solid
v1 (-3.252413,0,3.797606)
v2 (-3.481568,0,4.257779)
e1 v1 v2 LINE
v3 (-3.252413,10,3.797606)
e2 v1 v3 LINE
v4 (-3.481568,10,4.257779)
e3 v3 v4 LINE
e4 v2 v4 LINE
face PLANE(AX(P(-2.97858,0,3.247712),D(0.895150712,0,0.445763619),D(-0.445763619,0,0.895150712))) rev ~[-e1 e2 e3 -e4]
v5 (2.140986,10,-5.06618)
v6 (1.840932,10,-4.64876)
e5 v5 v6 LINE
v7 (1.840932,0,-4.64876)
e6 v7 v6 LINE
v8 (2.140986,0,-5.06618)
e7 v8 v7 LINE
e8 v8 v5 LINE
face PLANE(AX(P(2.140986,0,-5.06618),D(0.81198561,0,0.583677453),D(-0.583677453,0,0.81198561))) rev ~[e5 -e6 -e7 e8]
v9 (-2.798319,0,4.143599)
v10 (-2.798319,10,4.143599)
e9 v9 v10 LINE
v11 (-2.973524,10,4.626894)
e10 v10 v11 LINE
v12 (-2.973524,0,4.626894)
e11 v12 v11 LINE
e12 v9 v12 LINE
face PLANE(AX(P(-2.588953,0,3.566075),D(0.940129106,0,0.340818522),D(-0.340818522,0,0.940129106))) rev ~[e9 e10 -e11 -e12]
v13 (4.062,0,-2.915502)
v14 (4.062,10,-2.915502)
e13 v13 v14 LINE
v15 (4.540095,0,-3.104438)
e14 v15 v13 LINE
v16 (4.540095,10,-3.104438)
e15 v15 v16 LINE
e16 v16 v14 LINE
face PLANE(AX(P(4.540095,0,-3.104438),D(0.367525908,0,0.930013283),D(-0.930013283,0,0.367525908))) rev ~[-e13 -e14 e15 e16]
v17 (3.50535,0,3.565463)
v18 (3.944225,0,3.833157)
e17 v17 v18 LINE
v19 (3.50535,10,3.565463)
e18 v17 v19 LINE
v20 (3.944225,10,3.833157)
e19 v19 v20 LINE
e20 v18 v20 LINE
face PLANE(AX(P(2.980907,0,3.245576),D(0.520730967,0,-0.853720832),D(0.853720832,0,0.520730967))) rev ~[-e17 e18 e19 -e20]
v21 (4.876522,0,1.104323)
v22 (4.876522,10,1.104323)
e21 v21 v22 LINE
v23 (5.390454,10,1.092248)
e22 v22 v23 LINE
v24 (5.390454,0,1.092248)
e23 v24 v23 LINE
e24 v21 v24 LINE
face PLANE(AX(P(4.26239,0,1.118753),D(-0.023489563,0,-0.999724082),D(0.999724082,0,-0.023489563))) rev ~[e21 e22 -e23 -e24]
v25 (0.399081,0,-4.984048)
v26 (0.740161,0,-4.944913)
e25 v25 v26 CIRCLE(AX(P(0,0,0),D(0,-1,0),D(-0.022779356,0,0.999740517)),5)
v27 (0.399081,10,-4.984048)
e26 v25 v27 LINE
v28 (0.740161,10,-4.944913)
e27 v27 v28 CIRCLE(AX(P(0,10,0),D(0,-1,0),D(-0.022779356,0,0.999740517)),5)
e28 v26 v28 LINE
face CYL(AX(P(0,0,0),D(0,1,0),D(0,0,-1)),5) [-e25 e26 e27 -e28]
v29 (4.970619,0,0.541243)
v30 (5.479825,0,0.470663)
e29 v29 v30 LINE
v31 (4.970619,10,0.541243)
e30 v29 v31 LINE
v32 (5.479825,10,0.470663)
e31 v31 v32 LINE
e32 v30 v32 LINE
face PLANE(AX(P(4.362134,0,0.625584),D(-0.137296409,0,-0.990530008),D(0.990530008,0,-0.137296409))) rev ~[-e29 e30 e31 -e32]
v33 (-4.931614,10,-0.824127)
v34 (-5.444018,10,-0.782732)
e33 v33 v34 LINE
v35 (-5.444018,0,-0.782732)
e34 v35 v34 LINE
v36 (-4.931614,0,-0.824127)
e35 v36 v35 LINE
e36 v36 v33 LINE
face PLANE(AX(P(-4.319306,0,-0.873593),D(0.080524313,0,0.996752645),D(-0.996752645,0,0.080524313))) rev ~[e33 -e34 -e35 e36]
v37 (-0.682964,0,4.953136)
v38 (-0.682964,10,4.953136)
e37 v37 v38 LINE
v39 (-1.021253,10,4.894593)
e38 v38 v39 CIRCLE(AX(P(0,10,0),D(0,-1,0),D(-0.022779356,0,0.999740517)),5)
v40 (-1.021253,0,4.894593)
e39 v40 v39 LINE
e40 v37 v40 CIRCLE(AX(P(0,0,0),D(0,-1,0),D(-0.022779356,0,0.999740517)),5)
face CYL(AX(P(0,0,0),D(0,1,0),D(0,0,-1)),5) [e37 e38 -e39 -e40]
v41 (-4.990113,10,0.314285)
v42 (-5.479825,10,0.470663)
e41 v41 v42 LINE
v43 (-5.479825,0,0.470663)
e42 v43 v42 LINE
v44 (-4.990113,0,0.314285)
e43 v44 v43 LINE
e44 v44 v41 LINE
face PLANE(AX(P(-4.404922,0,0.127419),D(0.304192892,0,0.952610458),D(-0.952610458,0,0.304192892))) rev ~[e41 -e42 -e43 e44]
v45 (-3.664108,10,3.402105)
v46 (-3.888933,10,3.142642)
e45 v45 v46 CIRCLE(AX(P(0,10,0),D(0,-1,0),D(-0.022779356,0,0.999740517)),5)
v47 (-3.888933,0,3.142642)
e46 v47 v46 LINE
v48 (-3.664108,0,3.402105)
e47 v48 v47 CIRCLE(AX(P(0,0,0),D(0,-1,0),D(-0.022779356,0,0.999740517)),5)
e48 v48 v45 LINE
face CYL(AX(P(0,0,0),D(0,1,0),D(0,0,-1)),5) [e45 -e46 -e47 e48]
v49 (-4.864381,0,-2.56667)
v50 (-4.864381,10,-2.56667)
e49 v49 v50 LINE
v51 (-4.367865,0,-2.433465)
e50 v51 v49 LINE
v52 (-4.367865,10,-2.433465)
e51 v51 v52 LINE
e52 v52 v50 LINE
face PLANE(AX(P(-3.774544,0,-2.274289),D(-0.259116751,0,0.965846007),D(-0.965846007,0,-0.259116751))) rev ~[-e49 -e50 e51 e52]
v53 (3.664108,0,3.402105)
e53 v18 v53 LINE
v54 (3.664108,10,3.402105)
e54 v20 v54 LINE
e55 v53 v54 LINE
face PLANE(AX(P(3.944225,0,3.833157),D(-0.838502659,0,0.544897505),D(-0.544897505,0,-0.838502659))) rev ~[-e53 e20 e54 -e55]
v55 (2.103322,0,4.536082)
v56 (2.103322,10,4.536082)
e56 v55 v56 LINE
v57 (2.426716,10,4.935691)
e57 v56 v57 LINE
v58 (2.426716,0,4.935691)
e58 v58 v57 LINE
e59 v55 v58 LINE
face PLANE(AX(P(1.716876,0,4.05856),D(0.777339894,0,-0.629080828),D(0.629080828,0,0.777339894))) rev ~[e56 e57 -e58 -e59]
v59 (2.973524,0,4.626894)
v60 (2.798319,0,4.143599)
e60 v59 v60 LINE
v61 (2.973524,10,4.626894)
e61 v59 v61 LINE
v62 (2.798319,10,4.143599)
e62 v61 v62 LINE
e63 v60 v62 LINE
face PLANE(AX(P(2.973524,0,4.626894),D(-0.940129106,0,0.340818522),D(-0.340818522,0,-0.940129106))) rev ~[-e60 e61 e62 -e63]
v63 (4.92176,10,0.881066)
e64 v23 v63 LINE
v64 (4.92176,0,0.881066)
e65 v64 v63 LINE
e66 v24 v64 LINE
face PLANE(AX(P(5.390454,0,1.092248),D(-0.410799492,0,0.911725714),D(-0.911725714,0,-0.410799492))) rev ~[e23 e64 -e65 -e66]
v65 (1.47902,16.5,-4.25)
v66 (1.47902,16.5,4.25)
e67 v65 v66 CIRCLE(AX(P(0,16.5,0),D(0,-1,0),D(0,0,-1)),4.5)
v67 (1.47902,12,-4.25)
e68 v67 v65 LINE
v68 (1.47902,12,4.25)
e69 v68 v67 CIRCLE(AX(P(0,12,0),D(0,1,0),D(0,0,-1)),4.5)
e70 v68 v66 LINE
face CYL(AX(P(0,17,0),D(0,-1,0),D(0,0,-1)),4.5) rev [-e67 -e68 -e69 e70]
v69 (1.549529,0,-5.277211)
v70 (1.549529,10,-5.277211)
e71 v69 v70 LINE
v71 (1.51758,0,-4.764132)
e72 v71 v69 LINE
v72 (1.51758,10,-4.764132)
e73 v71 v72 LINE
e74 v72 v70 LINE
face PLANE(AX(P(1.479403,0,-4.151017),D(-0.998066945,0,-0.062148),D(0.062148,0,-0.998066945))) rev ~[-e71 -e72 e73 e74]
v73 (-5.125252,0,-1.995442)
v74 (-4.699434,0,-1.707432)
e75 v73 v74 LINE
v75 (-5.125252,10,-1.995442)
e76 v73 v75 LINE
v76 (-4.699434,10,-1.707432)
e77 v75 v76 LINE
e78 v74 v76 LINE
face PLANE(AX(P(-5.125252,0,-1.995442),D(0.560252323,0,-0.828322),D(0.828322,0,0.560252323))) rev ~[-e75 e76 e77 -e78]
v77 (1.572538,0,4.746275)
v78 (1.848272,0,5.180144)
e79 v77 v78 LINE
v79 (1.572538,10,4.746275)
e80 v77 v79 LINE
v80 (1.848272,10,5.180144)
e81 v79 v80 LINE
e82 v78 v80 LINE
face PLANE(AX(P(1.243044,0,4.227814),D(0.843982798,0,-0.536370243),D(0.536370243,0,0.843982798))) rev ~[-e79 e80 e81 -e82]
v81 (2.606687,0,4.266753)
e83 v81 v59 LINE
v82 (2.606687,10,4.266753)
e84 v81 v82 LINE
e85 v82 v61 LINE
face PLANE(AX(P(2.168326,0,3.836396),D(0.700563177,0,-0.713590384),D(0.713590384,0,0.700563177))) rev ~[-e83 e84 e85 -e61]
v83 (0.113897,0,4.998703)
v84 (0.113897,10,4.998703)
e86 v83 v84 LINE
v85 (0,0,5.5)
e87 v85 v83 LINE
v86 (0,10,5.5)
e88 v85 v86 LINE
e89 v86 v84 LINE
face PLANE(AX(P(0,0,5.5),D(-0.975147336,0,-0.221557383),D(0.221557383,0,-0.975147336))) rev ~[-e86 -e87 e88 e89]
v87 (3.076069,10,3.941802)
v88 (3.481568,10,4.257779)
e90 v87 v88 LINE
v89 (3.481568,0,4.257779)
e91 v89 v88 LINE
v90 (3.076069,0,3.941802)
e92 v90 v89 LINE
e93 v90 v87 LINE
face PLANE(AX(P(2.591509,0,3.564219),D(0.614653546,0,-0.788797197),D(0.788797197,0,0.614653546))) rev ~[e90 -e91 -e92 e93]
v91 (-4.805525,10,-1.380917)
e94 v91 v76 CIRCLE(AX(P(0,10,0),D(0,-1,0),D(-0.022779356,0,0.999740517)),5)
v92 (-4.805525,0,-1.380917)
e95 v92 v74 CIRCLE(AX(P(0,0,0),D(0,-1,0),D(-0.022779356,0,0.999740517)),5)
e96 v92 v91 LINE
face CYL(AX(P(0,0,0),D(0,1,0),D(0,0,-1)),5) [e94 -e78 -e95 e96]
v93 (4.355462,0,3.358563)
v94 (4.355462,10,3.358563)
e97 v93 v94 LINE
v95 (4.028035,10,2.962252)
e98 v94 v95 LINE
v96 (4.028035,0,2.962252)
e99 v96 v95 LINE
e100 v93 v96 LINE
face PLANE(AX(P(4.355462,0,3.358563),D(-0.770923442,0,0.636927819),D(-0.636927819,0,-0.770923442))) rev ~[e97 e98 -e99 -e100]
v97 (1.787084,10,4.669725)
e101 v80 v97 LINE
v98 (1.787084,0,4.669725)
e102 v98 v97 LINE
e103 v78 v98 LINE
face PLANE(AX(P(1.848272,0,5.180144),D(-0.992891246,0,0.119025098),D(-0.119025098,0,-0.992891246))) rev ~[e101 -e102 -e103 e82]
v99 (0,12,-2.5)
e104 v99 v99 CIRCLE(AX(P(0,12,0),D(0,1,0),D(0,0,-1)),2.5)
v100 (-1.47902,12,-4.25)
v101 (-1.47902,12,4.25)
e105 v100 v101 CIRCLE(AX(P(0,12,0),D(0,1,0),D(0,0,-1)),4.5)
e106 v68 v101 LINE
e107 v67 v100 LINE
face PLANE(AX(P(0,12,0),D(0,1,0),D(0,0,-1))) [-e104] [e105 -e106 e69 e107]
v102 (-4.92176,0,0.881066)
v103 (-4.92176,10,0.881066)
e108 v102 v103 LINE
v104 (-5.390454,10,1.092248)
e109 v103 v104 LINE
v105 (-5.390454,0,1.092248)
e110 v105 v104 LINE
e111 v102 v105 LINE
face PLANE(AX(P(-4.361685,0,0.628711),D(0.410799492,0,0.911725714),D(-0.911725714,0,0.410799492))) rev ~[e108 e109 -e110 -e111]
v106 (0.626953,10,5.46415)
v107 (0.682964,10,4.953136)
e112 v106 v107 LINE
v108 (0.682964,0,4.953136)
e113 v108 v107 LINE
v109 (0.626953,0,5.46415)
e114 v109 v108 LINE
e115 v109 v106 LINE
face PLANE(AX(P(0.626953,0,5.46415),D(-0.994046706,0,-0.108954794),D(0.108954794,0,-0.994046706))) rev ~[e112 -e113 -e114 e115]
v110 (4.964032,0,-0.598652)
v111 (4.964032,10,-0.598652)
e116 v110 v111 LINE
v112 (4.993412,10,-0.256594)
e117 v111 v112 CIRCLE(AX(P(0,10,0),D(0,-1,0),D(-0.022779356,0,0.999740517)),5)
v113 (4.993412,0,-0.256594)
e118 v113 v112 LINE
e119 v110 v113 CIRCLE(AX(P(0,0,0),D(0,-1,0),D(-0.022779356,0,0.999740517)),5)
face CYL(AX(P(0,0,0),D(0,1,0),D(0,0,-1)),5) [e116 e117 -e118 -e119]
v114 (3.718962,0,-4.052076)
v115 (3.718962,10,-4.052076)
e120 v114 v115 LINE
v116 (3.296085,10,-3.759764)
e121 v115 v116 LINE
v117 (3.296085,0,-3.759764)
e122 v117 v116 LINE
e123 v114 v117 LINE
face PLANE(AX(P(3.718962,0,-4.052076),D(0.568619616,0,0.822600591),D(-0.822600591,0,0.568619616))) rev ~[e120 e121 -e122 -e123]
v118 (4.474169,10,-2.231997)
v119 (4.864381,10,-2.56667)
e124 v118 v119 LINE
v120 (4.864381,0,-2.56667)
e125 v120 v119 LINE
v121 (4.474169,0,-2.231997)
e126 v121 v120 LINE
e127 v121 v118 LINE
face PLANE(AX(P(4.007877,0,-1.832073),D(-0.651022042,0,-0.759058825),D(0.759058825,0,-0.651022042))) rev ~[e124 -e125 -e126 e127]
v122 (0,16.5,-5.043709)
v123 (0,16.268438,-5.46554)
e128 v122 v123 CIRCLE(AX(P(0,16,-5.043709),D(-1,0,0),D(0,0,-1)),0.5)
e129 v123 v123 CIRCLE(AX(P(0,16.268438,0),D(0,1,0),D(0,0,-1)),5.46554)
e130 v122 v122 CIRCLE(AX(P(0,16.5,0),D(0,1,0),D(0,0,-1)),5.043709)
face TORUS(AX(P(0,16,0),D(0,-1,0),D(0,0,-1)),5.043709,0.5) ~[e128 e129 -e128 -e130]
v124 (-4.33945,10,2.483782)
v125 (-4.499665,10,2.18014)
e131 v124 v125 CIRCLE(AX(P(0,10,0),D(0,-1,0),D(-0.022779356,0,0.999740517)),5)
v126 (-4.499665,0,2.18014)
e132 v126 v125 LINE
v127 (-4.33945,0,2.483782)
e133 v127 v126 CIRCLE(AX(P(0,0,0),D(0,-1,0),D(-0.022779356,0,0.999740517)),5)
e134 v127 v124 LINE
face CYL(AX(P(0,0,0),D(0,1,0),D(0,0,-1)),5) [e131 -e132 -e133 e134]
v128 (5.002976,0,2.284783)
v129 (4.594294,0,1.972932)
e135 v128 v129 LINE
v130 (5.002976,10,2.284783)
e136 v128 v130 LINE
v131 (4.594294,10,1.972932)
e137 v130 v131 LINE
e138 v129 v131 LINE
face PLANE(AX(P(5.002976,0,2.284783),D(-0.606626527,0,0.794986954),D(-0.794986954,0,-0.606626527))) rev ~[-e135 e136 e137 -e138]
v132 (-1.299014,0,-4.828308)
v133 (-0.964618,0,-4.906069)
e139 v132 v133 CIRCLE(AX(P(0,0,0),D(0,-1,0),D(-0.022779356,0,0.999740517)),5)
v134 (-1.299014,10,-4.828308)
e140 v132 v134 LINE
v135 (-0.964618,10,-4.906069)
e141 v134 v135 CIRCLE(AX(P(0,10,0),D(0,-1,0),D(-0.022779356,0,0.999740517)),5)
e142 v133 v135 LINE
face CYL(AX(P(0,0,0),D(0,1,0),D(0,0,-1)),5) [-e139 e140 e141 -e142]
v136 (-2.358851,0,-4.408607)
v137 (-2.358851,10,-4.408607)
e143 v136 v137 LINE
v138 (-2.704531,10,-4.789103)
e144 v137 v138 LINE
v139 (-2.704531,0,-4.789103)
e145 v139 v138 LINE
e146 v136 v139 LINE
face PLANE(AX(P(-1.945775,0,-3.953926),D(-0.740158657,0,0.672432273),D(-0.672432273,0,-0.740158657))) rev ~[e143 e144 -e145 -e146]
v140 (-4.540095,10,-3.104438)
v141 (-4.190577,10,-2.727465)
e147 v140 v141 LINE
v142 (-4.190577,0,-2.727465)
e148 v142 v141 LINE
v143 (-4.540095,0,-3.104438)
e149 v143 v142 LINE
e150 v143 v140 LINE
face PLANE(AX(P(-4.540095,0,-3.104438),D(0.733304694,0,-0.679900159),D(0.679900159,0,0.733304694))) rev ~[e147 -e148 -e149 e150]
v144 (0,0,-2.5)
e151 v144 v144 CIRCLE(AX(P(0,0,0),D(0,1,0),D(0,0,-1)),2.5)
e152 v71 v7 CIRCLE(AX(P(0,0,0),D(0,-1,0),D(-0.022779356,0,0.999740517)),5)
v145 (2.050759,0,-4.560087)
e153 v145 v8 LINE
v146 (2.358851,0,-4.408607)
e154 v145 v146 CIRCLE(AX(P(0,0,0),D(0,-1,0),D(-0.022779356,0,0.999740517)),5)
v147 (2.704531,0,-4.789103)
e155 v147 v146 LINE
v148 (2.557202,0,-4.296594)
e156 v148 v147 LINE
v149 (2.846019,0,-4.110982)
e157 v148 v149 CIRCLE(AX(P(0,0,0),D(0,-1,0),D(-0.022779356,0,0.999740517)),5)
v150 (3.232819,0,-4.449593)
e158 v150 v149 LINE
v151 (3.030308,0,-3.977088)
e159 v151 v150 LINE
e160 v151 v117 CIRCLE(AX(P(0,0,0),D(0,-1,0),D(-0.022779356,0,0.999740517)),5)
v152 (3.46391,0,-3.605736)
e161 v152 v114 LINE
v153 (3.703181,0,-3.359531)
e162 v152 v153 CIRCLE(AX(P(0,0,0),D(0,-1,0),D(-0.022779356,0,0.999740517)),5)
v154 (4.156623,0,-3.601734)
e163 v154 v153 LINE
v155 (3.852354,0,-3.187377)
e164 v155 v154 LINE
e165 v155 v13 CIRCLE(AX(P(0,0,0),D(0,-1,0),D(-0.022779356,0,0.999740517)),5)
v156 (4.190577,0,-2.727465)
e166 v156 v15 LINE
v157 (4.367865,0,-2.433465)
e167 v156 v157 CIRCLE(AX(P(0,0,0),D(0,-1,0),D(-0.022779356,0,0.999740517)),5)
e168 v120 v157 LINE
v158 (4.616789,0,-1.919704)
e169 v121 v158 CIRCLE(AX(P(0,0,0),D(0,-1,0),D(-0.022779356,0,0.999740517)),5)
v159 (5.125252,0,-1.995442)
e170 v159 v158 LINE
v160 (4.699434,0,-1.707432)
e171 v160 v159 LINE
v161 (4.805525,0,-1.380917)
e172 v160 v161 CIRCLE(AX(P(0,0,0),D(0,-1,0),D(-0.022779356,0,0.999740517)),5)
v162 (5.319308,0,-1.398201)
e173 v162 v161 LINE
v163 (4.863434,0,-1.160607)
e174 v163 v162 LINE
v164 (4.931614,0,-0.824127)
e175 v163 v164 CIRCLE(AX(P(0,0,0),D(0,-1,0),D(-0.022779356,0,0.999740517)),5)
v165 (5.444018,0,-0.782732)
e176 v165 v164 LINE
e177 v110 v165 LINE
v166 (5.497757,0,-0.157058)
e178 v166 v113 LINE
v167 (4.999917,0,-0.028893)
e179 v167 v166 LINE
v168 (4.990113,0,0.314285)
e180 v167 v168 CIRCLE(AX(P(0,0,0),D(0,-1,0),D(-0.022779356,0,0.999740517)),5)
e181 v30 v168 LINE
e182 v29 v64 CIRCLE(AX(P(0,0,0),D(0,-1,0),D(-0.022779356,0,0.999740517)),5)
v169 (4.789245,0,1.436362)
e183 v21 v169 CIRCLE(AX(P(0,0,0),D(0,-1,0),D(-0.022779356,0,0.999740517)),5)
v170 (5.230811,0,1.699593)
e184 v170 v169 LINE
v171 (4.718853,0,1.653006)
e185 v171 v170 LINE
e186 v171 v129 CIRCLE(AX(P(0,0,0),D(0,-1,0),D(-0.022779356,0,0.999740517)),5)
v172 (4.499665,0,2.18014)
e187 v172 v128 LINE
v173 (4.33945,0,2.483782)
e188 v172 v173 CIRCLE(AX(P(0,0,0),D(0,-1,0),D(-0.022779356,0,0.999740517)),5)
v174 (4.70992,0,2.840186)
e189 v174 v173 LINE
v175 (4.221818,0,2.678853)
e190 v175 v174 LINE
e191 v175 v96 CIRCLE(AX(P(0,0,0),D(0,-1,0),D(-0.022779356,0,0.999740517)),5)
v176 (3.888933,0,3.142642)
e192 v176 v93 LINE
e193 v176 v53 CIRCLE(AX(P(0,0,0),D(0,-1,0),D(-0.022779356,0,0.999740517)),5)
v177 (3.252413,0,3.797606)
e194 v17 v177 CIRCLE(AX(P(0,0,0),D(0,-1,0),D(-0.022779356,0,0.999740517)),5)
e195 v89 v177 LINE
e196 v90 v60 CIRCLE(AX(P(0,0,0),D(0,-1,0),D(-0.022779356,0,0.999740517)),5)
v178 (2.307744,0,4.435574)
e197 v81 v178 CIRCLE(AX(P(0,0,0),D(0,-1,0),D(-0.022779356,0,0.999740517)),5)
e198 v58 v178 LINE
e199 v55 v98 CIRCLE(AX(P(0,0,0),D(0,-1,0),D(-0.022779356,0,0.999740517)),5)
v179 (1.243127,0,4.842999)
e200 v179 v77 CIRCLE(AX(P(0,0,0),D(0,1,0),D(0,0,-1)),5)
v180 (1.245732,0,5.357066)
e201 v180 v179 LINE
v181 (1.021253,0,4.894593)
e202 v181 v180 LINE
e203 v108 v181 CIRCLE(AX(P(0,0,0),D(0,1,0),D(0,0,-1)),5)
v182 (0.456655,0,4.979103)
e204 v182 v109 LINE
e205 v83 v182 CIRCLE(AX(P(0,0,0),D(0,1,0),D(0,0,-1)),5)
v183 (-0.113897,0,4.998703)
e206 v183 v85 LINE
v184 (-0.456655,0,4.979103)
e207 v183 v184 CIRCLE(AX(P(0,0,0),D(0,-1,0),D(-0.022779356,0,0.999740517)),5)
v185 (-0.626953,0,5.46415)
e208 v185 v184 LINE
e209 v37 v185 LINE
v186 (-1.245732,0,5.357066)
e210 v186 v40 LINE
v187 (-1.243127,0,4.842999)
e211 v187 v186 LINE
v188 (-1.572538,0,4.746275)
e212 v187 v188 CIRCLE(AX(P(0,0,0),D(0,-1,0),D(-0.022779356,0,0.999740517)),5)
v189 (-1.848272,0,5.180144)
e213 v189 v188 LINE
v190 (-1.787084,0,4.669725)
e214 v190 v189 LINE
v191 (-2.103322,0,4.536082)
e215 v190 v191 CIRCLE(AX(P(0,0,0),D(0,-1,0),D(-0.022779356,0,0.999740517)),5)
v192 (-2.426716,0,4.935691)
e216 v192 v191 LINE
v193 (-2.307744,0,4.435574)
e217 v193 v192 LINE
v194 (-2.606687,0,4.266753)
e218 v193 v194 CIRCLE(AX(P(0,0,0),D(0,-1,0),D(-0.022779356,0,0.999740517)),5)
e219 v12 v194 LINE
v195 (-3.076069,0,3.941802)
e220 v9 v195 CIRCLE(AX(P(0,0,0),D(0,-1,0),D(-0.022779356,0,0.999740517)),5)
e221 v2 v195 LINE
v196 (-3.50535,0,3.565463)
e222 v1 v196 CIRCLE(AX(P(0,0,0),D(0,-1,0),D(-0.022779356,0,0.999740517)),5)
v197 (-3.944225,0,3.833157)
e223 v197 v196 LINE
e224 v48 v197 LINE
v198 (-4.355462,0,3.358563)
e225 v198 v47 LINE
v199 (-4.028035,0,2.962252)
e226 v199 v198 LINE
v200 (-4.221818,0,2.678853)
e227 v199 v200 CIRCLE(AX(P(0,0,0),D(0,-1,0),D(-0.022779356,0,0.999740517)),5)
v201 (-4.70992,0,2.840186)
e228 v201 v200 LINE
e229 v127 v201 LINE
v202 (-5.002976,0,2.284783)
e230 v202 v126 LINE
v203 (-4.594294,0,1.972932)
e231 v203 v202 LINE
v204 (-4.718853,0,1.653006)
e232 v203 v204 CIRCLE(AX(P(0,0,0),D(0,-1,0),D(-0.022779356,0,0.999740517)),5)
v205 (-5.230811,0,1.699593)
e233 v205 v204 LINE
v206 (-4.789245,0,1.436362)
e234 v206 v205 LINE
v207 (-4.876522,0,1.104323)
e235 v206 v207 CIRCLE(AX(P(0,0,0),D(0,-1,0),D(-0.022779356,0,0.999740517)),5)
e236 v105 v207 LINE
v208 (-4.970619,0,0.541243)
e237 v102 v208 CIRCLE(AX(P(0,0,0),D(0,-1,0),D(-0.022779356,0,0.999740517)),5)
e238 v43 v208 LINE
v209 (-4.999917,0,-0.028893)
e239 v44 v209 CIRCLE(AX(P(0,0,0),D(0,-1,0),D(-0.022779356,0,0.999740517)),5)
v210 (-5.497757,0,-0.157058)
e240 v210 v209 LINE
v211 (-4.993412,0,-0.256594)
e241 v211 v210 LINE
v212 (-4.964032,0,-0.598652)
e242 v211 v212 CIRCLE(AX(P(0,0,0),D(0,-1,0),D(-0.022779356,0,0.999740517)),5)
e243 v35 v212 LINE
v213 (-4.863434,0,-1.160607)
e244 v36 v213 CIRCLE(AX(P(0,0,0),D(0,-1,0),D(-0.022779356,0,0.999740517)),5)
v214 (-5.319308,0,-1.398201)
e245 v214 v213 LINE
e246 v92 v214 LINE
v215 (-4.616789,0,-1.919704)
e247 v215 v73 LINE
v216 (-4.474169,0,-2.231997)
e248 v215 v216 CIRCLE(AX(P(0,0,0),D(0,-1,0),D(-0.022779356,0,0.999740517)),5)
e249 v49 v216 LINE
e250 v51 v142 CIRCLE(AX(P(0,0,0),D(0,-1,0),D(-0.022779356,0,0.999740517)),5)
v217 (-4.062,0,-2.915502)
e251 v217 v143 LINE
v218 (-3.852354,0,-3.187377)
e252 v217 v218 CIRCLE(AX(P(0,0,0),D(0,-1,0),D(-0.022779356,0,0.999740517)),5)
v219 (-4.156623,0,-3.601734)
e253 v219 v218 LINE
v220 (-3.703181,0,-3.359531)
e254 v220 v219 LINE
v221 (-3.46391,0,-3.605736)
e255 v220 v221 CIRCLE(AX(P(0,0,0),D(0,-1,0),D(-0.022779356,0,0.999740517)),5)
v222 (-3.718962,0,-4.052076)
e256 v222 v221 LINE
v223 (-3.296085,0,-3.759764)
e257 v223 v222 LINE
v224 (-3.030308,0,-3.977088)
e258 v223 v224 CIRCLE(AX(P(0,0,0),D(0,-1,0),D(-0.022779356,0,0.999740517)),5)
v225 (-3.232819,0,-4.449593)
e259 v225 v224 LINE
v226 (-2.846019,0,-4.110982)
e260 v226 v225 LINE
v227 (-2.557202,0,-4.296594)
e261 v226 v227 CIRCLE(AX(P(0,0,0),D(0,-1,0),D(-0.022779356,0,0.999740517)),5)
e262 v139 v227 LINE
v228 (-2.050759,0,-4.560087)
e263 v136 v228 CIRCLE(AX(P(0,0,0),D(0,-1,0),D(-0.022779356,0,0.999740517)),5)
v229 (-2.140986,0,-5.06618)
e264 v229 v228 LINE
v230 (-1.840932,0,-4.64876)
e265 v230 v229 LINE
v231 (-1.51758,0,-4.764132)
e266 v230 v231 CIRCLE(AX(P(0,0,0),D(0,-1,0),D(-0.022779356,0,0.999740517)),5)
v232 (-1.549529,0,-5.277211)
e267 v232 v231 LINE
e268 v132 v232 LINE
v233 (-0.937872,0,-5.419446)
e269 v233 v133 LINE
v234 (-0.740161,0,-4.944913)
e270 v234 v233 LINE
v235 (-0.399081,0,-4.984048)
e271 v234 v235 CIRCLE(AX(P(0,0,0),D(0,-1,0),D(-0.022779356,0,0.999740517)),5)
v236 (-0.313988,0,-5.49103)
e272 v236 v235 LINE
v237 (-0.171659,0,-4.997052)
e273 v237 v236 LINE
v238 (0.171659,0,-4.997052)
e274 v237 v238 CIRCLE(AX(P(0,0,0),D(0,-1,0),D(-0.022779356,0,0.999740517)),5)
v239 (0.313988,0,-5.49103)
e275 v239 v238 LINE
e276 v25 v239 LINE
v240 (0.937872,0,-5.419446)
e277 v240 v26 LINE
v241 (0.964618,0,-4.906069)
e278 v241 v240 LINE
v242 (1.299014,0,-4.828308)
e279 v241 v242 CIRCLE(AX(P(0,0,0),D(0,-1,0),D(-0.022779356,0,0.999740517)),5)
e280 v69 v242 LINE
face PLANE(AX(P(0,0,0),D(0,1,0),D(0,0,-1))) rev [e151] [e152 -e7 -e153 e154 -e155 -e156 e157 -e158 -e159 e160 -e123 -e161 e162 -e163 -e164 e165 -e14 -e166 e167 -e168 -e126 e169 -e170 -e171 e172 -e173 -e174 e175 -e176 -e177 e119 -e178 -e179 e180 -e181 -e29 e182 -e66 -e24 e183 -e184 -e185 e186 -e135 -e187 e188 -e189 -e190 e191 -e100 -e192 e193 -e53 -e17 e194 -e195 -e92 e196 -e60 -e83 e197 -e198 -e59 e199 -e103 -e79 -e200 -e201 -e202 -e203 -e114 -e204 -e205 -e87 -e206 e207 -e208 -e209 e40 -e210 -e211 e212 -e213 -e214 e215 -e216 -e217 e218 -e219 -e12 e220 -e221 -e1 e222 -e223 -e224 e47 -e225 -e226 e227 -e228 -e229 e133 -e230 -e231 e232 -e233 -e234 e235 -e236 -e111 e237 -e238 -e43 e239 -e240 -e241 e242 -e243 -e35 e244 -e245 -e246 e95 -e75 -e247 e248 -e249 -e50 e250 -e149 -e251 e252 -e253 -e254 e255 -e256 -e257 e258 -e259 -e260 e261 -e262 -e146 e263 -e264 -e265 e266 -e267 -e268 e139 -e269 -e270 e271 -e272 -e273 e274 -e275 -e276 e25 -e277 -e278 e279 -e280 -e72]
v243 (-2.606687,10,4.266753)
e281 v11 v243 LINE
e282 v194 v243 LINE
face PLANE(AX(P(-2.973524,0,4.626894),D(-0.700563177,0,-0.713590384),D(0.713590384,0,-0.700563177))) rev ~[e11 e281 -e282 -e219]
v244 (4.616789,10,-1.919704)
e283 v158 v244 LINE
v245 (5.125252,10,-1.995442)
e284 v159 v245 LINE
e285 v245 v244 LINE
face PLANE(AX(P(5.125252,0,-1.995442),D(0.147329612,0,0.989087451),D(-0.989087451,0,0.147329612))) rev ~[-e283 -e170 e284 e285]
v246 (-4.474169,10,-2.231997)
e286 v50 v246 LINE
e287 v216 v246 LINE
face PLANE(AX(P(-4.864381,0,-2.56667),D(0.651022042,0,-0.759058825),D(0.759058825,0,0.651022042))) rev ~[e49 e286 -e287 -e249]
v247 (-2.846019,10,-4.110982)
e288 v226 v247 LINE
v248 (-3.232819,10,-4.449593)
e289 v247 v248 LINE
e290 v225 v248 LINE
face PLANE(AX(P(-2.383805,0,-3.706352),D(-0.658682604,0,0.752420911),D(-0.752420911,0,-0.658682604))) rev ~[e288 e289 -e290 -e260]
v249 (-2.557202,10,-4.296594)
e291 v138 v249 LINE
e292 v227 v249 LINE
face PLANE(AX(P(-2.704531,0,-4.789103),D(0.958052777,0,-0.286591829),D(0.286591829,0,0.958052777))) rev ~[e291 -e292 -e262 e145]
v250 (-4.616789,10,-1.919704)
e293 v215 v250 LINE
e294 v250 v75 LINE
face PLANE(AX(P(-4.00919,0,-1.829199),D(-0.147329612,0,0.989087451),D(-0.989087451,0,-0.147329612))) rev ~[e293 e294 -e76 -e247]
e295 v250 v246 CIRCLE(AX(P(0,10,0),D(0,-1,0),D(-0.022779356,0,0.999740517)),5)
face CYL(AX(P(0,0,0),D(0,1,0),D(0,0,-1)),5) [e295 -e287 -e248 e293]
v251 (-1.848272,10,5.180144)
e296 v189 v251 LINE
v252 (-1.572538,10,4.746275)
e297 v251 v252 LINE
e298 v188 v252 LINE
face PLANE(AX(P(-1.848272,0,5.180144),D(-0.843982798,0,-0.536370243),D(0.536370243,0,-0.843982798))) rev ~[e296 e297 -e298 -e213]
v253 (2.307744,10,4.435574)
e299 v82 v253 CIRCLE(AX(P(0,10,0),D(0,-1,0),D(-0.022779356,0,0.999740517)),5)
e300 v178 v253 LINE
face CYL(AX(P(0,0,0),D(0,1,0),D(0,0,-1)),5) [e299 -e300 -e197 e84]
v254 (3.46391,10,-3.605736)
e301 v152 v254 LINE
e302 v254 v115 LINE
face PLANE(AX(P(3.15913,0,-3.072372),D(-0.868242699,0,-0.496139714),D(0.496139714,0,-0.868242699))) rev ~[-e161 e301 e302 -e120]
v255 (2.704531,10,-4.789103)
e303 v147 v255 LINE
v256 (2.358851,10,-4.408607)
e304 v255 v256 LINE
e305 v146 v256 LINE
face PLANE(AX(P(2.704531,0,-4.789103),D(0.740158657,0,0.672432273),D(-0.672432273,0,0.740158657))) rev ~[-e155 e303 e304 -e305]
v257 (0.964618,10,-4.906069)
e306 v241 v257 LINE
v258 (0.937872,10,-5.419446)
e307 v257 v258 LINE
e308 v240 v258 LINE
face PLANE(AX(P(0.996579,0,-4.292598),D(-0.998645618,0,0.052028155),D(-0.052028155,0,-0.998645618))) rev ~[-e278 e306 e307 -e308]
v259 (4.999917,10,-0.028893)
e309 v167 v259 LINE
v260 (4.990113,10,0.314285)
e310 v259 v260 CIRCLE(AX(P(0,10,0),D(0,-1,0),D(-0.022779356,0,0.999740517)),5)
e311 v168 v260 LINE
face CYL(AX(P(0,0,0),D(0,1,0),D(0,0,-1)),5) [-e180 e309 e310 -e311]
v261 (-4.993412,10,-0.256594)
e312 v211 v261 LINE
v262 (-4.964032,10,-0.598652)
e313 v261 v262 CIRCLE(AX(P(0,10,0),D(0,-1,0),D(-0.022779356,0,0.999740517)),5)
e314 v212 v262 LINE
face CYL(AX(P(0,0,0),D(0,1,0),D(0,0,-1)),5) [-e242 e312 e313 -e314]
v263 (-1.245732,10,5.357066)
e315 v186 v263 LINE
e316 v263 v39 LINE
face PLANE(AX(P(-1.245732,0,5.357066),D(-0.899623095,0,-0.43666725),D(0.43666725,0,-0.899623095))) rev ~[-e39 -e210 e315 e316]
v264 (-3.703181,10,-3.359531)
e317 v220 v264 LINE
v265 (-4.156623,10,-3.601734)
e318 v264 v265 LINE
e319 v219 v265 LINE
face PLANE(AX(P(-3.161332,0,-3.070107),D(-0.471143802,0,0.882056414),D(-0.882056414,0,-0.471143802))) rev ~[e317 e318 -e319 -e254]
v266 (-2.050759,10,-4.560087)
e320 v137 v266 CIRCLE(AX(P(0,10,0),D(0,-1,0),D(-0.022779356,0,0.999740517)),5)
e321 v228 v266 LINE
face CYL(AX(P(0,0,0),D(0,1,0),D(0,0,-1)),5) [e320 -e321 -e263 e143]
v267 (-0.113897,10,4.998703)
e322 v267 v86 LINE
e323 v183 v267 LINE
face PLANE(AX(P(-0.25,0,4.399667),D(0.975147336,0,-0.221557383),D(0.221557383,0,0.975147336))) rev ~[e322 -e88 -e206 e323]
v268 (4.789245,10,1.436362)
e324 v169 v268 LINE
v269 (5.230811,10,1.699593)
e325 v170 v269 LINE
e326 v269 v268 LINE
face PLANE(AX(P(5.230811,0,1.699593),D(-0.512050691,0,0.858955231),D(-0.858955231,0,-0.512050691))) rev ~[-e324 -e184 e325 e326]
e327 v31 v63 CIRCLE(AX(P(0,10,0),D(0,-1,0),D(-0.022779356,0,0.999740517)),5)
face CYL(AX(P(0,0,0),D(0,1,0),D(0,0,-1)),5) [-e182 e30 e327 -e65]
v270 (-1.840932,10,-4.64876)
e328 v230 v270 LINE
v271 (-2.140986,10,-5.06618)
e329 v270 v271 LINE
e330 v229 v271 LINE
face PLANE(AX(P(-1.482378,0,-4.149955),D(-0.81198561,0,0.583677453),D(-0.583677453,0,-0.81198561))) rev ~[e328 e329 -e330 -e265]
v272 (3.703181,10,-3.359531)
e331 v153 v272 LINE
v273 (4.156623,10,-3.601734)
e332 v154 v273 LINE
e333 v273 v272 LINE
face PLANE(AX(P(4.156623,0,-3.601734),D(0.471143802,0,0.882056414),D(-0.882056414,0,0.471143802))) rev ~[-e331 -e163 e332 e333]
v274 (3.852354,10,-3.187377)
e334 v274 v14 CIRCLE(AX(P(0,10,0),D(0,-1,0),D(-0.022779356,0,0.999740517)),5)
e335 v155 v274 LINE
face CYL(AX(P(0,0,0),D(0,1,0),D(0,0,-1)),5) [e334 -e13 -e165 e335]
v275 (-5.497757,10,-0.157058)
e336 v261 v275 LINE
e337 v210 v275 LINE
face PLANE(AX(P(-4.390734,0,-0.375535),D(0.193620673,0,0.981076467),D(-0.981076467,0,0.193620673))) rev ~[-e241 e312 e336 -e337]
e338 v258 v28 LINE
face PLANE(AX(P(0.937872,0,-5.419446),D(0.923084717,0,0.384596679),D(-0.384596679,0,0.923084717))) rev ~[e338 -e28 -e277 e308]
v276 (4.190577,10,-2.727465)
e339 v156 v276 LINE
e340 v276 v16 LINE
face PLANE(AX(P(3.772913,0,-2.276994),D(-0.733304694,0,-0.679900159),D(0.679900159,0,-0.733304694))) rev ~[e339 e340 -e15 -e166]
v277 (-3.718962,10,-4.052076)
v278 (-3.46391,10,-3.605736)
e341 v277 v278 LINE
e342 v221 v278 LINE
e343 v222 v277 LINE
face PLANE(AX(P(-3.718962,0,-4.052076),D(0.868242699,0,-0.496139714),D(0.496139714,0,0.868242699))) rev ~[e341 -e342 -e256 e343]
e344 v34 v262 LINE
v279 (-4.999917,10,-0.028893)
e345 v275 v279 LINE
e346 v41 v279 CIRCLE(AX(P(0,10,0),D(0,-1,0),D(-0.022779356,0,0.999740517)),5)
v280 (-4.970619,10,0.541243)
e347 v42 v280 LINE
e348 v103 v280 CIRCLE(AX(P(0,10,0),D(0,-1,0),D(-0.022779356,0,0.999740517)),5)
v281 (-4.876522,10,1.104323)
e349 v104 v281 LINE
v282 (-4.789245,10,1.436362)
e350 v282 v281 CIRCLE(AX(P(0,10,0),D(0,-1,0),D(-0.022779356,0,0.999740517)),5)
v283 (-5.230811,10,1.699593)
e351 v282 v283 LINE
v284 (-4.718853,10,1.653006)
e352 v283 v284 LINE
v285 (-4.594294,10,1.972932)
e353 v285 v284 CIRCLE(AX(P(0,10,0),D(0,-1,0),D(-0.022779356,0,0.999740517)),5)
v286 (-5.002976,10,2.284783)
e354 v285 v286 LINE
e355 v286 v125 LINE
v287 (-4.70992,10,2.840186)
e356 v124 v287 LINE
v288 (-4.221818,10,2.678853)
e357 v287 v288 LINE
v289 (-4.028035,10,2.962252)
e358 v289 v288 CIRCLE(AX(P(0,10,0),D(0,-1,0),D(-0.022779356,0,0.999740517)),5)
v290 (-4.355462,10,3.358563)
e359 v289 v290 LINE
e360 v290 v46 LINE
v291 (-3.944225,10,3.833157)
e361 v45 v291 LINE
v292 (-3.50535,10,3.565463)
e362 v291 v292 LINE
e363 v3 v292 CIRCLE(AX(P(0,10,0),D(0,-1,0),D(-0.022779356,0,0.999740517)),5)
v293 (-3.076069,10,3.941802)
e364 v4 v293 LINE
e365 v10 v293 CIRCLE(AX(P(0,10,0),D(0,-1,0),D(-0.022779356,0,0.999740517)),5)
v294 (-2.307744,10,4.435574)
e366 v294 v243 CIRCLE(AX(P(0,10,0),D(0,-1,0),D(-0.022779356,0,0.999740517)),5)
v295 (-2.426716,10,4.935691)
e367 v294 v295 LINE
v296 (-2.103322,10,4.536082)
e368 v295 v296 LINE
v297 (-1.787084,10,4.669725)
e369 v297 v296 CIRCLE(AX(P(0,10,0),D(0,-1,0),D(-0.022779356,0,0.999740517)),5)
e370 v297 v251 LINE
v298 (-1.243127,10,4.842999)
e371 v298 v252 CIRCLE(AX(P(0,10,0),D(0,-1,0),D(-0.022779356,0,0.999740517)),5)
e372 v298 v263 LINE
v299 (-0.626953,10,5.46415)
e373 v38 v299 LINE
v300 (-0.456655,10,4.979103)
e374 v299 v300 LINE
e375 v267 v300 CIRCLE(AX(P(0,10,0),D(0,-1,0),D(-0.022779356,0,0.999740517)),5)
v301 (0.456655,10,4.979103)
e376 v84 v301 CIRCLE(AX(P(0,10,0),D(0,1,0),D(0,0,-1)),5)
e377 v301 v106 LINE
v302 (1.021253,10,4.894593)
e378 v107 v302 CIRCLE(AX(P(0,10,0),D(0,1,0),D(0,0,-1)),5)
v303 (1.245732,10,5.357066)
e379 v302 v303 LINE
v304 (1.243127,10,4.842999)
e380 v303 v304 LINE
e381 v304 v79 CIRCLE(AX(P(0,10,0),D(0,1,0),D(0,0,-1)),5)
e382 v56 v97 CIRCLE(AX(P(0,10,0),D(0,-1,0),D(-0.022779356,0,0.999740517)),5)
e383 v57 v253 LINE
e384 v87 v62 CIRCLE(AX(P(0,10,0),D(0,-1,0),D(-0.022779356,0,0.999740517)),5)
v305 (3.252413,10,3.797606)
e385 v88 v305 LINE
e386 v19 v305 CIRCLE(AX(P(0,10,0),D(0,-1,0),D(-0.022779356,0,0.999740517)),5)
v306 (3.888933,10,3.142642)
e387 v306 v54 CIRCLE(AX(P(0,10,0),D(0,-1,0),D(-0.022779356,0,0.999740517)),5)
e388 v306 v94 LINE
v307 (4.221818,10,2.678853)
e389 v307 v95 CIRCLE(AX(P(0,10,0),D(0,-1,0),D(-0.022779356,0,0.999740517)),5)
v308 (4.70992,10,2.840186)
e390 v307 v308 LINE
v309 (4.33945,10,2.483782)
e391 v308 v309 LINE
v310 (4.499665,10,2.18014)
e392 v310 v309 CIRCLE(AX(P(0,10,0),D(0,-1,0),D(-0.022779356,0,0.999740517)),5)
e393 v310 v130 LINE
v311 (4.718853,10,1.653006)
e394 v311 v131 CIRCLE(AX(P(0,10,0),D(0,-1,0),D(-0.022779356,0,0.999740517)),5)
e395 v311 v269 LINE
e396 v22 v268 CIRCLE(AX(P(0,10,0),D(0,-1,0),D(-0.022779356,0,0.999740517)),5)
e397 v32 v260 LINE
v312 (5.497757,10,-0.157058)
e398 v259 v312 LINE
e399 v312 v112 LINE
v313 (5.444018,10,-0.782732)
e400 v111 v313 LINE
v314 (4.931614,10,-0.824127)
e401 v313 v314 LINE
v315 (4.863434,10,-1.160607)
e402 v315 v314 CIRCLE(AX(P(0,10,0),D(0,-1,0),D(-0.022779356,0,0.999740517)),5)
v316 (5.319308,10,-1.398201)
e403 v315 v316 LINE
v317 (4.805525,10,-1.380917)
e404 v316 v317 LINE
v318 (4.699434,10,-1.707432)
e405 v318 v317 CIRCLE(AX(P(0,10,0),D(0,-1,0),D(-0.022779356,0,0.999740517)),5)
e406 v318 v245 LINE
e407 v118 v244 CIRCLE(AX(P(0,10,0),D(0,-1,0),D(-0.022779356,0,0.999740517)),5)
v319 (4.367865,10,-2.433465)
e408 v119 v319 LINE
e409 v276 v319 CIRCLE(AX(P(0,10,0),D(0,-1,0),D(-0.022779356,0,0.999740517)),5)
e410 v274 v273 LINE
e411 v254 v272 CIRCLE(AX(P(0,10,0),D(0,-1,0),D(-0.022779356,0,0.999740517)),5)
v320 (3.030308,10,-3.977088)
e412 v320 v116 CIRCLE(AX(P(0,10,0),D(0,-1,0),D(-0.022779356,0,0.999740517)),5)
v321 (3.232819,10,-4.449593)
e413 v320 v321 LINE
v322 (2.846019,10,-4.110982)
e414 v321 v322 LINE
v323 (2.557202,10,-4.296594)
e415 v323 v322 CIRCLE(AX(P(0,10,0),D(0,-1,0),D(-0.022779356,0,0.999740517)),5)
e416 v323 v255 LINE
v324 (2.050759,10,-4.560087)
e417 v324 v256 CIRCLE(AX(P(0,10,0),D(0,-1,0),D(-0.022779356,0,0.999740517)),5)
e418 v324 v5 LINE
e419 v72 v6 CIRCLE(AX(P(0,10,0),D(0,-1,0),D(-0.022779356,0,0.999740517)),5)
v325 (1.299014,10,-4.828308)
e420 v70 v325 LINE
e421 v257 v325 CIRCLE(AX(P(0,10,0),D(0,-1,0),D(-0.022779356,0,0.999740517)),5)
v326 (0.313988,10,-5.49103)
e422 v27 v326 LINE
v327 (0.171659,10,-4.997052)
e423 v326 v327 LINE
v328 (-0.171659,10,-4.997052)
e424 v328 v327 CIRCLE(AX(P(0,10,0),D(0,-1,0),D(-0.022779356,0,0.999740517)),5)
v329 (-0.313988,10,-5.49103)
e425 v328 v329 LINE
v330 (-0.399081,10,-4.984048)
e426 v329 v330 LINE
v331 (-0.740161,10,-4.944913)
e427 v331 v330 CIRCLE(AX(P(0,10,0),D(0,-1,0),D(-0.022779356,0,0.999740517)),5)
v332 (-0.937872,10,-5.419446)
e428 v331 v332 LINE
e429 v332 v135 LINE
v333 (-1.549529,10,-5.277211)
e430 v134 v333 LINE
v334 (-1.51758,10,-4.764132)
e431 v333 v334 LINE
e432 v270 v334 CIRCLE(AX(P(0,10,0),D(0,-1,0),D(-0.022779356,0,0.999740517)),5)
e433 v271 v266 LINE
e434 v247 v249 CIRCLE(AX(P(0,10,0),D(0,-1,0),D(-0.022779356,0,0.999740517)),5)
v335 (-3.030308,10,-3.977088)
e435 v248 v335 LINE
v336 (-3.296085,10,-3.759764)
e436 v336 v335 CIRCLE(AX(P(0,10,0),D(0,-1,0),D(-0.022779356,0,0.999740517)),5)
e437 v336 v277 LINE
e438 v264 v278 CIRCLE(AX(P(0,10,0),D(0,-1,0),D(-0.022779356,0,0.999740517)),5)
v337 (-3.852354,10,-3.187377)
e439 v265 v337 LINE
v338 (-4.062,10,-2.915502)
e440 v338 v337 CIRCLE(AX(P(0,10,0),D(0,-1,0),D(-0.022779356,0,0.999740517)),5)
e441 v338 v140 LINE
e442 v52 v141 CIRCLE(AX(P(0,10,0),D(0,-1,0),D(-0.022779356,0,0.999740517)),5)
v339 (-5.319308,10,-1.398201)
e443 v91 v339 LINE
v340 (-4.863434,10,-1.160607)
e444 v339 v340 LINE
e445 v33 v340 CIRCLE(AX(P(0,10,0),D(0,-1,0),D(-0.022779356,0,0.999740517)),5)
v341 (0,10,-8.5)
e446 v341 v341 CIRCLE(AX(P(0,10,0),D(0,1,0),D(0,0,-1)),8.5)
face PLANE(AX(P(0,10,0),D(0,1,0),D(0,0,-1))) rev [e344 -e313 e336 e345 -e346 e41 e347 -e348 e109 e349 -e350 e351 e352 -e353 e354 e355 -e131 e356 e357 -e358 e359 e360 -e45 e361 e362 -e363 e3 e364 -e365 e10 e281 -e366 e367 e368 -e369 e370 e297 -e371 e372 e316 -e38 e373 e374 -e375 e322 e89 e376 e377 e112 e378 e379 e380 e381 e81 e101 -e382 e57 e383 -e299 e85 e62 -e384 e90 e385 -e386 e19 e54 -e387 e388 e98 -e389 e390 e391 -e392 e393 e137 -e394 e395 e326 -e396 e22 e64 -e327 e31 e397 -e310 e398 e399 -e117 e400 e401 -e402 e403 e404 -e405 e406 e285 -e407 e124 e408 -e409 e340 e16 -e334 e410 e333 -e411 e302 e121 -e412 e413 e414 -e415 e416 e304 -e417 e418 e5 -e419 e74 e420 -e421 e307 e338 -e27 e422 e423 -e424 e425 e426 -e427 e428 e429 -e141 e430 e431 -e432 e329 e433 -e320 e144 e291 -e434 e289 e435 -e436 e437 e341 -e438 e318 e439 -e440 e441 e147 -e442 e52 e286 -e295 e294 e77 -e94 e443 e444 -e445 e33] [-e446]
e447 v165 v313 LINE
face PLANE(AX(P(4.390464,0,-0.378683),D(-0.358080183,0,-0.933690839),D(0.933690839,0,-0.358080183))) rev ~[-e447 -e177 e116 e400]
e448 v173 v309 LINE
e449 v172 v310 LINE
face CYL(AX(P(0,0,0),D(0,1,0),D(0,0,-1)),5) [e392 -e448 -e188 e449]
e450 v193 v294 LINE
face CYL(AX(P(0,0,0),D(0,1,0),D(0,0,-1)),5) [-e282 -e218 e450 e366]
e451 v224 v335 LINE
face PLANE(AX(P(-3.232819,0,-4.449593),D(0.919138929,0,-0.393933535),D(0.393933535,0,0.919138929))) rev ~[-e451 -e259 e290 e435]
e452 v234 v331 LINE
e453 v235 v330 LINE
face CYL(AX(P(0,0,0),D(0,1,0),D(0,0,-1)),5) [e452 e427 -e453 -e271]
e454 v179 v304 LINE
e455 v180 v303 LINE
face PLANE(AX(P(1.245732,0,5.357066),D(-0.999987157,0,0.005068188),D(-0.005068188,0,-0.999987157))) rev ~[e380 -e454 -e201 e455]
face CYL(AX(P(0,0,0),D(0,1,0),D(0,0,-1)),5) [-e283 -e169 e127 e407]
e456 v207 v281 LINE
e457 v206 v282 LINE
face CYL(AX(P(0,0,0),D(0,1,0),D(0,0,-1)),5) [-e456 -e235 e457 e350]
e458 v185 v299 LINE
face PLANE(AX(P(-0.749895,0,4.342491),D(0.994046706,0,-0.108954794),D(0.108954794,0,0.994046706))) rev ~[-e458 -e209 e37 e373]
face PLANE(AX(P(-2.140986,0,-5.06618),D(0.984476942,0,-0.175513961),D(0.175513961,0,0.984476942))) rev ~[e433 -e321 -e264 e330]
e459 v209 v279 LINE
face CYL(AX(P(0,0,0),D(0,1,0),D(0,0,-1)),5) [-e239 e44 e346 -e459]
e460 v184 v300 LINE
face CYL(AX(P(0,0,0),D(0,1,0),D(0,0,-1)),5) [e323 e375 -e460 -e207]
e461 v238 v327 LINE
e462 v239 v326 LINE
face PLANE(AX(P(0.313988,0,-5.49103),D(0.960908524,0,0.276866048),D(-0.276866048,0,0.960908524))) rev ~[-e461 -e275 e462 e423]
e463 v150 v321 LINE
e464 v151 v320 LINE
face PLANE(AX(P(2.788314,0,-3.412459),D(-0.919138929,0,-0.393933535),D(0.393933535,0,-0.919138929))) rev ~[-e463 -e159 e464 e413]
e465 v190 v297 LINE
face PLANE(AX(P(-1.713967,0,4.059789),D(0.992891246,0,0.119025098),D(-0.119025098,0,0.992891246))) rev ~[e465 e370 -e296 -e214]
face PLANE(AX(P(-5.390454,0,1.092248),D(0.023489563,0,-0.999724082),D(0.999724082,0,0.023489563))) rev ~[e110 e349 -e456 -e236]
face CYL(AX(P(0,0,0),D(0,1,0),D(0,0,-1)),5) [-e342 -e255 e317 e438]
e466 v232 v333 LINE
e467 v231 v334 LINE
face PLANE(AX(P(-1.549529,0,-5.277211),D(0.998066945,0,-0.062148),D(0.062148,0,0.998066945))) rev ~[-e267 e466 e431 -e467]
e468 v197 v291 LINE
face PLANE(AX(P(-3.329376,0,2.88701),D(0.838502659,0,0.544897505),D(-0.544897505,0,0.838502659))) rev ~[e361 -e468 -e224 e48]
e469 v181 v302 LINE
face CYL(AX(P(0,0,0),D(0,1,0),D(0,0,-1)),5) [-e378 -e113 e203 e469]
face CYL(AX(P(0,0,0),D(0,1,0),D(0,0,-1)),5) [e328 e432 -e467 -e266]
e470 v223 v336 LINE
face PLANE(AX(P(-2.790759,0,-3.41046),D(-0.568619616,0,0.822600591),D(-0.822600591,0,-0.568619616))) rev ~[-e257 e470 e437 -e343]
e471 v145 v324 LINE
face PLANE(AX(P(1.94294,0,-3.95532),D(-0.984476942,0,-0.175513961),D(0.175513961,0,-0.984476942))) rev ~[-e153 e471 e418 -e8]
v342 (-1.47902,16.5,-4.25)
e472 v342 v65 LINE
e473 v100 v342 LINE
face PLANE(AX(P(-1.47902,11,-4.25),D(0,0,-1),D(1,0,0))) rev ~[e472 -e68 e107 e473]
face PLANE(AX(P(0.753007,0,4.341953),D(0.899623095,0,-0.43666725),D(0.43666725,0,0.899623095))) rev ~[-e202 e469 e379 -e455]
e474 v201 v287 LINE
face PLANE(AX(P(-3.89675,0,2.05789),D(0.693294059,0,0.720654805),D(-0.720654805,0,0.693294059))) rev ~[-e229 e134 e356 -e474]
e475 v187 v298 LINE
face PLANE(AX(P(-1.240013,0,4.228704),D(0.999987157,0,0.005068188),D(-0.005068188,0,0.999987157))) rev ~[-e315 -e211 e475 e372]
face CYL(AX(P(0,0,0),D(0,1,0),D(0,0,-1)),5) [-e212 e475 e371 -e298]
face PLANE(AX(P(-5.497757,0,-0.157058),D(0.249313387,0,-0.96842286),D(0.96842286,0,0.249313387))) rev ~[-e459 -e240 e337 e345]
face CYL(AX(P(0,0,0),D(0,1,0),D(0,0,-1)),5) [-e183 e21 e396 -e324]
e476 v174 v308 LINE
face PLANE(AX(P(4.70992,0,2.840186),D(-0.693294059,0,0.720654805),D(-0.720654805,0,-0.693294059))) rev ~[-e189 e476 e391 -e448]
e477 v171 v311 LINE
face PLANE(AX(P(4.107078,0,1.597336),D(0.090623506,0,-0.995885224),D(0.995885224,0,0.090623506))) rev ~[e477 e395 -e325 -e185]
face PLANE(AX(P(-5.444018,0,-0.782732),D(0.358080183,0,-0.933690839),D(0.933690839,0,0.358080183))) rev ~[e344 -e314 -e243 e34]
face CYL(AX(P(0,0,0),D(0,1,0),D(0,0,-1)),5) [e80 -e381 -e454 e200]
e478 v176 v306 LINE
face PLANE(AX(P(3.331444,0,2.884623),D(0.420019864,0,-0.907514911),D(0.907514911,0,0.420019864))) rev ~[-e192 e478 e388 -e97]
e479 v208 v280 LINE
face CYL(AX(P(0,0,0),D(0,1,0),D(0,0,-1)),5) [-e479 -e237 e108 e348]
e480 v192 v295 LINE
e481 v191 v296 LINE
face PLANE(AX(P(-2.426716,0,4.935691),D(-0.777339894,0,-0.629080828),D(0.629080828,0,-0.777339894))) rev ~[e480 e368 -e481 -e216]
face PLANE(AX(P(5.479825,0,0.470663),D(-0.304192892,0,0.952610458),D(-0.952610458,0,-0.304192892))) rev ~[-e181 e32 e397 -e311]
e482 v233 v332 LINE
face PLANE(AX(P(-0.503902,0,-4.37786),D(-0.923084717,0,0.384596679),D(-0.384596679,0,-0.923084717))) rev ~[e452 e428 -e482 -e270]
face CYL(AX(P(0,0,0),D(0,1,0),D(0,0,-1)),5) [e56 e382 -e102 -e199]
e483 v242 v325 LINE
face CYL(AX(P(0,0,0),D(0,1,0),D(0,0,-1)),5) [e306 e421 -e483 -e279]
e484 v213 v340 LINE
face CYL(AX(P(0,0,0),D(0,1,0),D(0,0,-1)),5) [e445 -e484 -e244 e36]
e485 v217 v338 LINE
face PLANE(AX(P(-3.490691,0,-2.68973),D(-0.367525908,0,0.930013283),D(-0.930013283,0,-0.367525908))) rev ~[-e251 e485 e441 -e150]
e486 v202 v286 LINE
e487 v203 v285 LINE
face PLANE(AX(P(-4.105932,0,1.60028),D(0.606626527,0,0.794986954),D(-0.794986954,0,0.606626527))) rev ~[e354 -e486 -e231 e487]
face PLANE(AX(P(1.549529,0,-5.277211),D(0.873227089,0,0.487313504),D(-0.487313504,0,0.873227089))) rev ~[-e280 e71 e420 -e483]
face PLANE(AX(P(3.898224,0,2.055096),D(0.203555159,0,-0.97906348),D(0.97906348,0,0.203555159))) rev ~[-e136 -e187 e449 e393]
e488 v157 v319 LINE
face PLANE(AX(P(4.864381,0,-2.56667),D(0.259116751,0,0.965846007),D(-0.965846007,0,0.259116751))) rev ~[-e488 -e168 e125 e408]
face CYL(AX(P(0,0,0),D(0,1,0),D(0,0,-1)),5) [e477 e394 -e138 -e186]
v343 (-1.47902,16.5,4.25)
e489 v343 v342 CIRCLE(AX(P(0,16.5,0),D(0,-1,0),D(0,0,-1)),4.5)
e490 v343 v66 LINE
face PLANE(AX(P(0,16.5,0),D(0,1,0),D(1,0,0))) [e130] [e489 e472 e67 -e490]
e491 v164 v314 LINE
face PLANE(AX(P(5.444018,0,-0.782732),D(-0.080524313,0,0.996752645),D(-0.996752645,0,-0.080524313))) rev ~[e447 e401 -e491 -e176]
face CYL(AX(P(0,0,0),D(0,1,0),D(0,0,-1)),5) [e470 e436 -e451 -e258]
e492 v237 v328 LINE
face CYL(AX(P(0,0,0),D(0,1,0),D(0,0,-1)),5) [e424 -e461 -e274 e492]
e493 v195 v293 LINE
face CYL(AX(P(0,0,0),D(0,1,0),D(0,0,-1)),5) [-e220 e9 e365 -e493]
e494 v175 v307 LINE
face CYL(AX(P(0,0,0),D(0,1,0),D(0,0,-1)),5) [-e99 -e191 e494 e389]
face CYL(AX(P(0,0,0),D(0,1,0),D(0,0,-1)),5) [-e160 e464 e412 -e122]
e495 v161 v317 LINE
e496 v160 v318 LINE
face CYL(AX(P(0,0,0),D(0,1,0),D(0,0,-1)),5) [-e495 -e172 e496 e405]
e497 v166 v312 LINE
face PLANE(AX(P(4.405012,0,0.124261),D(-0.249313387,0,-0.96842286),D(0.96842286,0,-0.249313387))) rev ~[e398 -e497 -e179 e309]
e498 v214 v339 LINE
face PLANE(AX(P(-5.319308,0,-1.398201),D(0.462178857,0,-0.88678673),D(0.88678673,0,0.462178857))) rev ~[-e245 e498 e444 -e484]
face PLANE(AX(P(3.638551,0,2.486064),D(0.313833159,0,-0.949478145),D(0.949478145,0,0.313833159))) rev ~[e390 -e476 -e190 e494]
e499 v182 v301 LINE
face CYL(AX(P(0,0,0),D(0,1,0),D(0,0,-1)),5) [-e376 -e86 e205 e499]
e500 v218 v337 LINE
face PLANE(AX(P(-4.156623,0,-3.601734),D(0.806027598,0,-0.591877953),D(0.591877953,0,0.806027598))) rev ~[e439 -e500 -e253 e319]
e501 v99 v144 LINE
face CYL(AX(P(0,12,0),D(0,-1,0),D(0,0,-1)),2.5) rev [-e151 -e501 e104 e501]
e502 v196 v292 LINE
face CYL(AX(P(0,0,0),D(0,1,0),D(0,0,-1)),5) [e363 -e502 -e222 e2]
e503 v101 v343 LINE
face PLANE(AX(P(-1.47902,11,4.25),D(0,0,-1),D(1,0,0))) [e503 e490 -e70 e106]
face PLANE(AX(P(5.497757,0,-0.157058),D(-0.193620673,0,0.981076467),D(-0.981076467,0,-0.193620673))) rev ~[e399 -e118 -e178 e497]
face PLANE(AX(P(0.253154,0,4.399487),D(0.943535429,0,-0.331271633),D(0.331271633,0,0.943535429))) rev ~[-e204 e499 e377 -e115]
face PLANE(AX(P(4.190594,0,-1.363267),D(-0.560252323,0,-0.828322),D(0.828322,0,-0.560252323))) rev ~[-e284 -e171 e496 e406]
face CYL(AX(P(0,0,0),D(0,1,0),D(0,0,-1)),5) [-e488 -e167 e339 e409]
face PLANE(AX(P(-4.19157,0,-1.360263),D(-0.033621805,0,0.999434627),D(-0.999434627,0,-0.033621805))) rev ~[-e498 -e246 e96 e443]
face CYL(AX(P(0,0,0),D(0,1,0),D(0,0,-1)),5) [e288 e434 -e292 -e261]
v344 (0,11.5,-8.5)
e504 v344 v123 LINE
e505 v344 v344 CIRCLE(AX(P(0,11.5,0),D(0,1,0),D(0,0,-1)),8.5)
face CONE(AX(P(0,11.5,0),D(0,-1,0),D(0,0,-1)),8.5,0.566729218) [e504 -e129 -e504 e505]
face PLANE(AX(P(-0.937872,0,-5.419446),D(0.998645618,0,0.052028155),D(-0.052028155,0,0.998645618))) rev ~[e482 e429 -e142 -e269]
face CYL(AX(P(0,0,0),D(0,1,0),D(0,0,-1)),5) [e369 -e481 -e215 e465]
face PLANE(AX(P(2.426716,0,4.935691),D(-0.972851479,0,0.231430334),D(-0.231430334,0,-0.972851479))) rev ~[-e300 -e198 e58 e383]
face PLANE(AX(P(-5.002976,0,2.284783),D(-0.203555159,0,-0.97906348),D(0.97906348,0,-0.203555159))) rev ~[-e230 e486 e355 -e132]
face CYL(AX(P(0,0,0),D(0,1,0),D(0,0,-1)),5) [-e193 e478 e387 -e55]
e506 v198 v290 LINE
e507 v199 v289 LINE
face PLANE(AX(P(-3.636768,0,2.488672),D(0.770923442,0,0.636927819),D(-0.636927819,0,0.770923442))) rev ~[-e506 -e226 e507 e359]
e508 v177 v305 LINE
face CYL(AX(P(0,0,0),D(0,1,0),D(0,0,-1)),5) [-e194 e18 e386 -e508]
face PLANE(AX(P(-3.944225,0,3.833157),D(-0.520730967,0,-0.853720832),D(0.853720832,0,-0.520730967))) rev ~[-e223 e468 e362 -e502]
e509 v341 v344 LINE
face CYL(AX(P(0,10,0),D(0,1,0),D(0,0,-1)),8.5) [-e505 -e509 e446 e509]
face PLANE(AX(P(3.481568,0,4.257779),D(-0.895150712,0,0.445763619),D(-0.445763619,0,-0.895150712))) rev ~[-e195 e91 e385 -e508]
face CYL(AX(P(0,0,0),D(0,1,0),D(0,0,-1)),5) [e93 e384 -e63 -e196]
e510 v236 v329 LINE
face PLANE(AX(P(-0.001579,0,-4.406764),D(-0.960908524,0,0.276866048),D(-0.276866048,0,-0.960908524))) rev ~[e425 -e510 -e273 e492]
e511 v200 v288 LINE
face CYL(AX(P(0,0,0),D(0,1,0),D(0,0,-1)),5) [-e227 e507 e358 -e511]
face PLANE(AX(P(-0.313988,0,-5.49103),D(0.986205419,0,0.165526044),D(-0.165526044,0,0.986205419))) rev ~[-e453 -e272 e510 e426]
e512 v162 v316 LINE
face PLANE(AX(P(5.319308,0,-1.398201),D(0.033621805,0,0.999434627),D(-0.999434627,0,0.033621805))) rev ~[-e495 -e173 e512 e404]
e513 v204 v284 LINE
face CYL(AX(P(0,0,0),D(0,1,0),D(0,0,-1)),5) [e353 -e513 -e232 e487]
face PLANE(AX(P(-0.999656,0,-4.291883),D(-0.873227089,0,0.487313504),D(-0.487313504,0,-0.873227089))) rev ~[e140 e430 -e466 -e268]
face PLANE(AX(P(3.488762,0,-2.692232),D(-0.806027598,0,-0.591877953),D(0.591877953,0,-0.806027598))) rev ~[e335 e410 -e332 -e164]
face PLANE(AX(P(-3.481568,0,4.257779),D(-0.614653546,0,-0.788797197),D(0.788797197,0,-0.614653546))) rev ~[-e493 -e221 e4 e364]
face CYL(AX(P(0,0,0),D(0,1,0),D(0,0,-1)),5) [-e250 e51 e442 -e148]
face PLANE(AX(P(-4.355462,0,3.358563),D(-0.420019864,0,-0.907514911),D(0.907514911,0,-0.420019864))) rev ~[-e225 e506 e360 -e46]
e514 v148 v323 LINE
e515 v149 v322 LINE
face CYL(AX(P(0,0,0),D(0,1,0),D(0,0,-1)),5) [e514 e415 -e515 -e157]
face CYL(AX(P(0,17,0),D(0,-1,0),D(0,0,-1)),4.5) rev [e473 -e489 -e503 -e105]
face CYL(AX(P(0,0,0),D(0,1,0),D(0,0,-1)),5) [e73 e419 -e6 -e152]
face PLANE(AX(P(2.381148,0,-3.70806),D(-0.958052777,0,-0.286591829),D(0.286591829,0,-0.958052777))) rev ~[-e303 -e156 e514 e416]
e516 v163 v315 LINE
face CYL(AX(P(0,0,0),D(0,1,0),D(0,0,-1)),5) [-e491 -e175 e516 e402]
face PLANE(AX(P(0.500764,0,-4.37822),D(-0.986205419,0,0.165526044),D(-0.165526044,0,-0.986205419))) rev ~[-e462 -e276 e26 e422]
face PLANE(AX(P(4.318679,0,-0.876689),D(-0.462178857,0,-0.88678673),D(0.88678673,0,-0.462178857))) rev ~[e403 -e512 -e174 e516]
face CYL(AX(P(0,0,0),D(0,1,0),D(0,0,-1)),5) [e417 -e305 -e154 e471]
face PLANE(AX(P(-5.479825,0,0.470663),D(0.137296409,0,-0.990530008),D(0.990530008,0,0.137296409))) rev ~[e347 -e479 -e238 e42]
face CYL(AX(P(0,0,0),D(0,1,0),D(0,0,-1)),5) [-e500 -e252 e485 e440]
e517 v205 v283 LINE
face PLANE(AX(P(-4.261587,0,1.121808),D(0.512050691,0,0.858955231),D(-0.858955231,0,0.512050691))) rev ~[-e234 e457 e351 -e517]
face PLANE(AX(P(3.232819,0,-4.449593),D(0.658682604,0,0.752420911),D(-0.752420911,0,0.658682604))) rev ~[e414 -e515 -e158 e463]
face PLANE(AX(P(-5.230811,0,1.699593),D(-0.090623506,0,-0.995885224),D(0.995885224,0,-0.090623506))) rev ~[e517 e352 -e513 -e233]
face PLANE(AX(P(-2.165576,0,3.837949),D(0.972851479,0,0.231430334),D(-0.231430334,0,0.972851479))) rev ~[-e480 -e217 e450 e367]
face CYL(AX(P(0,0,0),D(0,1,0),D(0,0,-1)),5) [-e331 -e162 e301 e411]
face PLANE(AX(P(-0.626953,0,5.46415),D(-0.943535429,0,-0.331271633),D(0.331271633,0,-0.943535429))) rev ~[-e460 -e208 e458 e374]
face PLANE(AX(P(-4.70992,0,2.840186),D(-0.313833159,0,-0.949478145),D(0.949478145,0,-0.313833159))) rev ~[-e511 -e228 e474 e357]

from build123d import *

# Parameters (mm, degrees)
EXTRUDE_1_DEPTH          = 10
PATTERN_CIRCULAR_1_COUNT = 55
EXTRUDE_START            = -6
EXTRUDE_2_DEPTH          = 6
SKETCH_4_R               = 7
CUT_EXTRUDE_1_DEPTH      = 0.5
FILLET_2_R               = 0.5


with BuildPart() as part:
    # Эскиз1 → Повернуть1 (revolve)
    with BuildSketch(Plane.XY, mode=Mode.PRIVATE) as revolve_1_sk:
        Polygon((-5, 17), (-4.5, 17), (-4.5, 12), (-2.5, 12), (-2.5, 0), (-5, 0), (-5, 10), (-8.5, 10), (-8.5, 11.5), align=None)
    revolve(revolve_1_sk.sketch.rotate(Axis((0, -50, 0), (0, 1, 0)), 270), axis=Axis((0, -50, 0), (0, 1, 0)))

    # Эскиз2 → Бобышка-Вытянуть1 (add)
    with BuildSketch(Plane.XZ):
        Polygon((-0.25, 4.399667297), (0, 5.5), (0.25, 4.399667297), align=None)
    extrude_1 = extrude(amount=-EXTRUDE_1_DEPTH)

    # Круговой массив1: Бобышка-Вытянуть1 ×55 about axis
    pattern_circular_1_axis = Axis((0, 0, 0), (0, 1, 0))
    for i in range(1, PATTERN_CIRCULAR_1_COUNT):
        add(extrude_1.rotate(pattern_circular_1_axis, i * 360 / PATTERN_CIRCULAR_1_COUNT))

    # Эскиз3 → Бобышка-Вытянуть2 (add)
    with BuildSketch(Plane(origin=(0, 17, 0), x_dir=(1, 0, 0), z_dir=(0, 1, 0)).offset(EXTRUDE_START)):
        with BuildLine():
            Line((-1.479019946, 4.25), (1.479019946, 4.25))
            ThreePointArc((1.479019946, 4.25), (0, 4.5), (-1.479019946, 4.25))
        make_face()
        with BuildLine():
            Line((-1.479019946, -4.25), (1.479019946, -4.25))
            ThreePointArc((1.479019946, -4.25), (0, -4.5), (-1.479019946, -4.25))
        make_face()
    extrude(amount=EXTRUDE_2_DEPTH)

    # Эскиз4 → Вырез-Вытянуть1 (cut)
    with BuildSketch(Plane(origin=(0, 17, 0), x_dir=(1, 0, 0), z_dir=(0, 1, 0))):
        Circle(SKETCH_4_R)
    extrude(amount=-CUT_EXTRUDE_1_DEPTH, mode=Mode.SUBTRACT)

    # Скругление2
    fillet_2_edges = [part.edges().sort_by_distance(p)[0] for p in [
        (0, 16.5, 5.318181818),
    ]]
    fillet(fillet_2_edges, radius=FILLET_2_R)


solid = part.part
